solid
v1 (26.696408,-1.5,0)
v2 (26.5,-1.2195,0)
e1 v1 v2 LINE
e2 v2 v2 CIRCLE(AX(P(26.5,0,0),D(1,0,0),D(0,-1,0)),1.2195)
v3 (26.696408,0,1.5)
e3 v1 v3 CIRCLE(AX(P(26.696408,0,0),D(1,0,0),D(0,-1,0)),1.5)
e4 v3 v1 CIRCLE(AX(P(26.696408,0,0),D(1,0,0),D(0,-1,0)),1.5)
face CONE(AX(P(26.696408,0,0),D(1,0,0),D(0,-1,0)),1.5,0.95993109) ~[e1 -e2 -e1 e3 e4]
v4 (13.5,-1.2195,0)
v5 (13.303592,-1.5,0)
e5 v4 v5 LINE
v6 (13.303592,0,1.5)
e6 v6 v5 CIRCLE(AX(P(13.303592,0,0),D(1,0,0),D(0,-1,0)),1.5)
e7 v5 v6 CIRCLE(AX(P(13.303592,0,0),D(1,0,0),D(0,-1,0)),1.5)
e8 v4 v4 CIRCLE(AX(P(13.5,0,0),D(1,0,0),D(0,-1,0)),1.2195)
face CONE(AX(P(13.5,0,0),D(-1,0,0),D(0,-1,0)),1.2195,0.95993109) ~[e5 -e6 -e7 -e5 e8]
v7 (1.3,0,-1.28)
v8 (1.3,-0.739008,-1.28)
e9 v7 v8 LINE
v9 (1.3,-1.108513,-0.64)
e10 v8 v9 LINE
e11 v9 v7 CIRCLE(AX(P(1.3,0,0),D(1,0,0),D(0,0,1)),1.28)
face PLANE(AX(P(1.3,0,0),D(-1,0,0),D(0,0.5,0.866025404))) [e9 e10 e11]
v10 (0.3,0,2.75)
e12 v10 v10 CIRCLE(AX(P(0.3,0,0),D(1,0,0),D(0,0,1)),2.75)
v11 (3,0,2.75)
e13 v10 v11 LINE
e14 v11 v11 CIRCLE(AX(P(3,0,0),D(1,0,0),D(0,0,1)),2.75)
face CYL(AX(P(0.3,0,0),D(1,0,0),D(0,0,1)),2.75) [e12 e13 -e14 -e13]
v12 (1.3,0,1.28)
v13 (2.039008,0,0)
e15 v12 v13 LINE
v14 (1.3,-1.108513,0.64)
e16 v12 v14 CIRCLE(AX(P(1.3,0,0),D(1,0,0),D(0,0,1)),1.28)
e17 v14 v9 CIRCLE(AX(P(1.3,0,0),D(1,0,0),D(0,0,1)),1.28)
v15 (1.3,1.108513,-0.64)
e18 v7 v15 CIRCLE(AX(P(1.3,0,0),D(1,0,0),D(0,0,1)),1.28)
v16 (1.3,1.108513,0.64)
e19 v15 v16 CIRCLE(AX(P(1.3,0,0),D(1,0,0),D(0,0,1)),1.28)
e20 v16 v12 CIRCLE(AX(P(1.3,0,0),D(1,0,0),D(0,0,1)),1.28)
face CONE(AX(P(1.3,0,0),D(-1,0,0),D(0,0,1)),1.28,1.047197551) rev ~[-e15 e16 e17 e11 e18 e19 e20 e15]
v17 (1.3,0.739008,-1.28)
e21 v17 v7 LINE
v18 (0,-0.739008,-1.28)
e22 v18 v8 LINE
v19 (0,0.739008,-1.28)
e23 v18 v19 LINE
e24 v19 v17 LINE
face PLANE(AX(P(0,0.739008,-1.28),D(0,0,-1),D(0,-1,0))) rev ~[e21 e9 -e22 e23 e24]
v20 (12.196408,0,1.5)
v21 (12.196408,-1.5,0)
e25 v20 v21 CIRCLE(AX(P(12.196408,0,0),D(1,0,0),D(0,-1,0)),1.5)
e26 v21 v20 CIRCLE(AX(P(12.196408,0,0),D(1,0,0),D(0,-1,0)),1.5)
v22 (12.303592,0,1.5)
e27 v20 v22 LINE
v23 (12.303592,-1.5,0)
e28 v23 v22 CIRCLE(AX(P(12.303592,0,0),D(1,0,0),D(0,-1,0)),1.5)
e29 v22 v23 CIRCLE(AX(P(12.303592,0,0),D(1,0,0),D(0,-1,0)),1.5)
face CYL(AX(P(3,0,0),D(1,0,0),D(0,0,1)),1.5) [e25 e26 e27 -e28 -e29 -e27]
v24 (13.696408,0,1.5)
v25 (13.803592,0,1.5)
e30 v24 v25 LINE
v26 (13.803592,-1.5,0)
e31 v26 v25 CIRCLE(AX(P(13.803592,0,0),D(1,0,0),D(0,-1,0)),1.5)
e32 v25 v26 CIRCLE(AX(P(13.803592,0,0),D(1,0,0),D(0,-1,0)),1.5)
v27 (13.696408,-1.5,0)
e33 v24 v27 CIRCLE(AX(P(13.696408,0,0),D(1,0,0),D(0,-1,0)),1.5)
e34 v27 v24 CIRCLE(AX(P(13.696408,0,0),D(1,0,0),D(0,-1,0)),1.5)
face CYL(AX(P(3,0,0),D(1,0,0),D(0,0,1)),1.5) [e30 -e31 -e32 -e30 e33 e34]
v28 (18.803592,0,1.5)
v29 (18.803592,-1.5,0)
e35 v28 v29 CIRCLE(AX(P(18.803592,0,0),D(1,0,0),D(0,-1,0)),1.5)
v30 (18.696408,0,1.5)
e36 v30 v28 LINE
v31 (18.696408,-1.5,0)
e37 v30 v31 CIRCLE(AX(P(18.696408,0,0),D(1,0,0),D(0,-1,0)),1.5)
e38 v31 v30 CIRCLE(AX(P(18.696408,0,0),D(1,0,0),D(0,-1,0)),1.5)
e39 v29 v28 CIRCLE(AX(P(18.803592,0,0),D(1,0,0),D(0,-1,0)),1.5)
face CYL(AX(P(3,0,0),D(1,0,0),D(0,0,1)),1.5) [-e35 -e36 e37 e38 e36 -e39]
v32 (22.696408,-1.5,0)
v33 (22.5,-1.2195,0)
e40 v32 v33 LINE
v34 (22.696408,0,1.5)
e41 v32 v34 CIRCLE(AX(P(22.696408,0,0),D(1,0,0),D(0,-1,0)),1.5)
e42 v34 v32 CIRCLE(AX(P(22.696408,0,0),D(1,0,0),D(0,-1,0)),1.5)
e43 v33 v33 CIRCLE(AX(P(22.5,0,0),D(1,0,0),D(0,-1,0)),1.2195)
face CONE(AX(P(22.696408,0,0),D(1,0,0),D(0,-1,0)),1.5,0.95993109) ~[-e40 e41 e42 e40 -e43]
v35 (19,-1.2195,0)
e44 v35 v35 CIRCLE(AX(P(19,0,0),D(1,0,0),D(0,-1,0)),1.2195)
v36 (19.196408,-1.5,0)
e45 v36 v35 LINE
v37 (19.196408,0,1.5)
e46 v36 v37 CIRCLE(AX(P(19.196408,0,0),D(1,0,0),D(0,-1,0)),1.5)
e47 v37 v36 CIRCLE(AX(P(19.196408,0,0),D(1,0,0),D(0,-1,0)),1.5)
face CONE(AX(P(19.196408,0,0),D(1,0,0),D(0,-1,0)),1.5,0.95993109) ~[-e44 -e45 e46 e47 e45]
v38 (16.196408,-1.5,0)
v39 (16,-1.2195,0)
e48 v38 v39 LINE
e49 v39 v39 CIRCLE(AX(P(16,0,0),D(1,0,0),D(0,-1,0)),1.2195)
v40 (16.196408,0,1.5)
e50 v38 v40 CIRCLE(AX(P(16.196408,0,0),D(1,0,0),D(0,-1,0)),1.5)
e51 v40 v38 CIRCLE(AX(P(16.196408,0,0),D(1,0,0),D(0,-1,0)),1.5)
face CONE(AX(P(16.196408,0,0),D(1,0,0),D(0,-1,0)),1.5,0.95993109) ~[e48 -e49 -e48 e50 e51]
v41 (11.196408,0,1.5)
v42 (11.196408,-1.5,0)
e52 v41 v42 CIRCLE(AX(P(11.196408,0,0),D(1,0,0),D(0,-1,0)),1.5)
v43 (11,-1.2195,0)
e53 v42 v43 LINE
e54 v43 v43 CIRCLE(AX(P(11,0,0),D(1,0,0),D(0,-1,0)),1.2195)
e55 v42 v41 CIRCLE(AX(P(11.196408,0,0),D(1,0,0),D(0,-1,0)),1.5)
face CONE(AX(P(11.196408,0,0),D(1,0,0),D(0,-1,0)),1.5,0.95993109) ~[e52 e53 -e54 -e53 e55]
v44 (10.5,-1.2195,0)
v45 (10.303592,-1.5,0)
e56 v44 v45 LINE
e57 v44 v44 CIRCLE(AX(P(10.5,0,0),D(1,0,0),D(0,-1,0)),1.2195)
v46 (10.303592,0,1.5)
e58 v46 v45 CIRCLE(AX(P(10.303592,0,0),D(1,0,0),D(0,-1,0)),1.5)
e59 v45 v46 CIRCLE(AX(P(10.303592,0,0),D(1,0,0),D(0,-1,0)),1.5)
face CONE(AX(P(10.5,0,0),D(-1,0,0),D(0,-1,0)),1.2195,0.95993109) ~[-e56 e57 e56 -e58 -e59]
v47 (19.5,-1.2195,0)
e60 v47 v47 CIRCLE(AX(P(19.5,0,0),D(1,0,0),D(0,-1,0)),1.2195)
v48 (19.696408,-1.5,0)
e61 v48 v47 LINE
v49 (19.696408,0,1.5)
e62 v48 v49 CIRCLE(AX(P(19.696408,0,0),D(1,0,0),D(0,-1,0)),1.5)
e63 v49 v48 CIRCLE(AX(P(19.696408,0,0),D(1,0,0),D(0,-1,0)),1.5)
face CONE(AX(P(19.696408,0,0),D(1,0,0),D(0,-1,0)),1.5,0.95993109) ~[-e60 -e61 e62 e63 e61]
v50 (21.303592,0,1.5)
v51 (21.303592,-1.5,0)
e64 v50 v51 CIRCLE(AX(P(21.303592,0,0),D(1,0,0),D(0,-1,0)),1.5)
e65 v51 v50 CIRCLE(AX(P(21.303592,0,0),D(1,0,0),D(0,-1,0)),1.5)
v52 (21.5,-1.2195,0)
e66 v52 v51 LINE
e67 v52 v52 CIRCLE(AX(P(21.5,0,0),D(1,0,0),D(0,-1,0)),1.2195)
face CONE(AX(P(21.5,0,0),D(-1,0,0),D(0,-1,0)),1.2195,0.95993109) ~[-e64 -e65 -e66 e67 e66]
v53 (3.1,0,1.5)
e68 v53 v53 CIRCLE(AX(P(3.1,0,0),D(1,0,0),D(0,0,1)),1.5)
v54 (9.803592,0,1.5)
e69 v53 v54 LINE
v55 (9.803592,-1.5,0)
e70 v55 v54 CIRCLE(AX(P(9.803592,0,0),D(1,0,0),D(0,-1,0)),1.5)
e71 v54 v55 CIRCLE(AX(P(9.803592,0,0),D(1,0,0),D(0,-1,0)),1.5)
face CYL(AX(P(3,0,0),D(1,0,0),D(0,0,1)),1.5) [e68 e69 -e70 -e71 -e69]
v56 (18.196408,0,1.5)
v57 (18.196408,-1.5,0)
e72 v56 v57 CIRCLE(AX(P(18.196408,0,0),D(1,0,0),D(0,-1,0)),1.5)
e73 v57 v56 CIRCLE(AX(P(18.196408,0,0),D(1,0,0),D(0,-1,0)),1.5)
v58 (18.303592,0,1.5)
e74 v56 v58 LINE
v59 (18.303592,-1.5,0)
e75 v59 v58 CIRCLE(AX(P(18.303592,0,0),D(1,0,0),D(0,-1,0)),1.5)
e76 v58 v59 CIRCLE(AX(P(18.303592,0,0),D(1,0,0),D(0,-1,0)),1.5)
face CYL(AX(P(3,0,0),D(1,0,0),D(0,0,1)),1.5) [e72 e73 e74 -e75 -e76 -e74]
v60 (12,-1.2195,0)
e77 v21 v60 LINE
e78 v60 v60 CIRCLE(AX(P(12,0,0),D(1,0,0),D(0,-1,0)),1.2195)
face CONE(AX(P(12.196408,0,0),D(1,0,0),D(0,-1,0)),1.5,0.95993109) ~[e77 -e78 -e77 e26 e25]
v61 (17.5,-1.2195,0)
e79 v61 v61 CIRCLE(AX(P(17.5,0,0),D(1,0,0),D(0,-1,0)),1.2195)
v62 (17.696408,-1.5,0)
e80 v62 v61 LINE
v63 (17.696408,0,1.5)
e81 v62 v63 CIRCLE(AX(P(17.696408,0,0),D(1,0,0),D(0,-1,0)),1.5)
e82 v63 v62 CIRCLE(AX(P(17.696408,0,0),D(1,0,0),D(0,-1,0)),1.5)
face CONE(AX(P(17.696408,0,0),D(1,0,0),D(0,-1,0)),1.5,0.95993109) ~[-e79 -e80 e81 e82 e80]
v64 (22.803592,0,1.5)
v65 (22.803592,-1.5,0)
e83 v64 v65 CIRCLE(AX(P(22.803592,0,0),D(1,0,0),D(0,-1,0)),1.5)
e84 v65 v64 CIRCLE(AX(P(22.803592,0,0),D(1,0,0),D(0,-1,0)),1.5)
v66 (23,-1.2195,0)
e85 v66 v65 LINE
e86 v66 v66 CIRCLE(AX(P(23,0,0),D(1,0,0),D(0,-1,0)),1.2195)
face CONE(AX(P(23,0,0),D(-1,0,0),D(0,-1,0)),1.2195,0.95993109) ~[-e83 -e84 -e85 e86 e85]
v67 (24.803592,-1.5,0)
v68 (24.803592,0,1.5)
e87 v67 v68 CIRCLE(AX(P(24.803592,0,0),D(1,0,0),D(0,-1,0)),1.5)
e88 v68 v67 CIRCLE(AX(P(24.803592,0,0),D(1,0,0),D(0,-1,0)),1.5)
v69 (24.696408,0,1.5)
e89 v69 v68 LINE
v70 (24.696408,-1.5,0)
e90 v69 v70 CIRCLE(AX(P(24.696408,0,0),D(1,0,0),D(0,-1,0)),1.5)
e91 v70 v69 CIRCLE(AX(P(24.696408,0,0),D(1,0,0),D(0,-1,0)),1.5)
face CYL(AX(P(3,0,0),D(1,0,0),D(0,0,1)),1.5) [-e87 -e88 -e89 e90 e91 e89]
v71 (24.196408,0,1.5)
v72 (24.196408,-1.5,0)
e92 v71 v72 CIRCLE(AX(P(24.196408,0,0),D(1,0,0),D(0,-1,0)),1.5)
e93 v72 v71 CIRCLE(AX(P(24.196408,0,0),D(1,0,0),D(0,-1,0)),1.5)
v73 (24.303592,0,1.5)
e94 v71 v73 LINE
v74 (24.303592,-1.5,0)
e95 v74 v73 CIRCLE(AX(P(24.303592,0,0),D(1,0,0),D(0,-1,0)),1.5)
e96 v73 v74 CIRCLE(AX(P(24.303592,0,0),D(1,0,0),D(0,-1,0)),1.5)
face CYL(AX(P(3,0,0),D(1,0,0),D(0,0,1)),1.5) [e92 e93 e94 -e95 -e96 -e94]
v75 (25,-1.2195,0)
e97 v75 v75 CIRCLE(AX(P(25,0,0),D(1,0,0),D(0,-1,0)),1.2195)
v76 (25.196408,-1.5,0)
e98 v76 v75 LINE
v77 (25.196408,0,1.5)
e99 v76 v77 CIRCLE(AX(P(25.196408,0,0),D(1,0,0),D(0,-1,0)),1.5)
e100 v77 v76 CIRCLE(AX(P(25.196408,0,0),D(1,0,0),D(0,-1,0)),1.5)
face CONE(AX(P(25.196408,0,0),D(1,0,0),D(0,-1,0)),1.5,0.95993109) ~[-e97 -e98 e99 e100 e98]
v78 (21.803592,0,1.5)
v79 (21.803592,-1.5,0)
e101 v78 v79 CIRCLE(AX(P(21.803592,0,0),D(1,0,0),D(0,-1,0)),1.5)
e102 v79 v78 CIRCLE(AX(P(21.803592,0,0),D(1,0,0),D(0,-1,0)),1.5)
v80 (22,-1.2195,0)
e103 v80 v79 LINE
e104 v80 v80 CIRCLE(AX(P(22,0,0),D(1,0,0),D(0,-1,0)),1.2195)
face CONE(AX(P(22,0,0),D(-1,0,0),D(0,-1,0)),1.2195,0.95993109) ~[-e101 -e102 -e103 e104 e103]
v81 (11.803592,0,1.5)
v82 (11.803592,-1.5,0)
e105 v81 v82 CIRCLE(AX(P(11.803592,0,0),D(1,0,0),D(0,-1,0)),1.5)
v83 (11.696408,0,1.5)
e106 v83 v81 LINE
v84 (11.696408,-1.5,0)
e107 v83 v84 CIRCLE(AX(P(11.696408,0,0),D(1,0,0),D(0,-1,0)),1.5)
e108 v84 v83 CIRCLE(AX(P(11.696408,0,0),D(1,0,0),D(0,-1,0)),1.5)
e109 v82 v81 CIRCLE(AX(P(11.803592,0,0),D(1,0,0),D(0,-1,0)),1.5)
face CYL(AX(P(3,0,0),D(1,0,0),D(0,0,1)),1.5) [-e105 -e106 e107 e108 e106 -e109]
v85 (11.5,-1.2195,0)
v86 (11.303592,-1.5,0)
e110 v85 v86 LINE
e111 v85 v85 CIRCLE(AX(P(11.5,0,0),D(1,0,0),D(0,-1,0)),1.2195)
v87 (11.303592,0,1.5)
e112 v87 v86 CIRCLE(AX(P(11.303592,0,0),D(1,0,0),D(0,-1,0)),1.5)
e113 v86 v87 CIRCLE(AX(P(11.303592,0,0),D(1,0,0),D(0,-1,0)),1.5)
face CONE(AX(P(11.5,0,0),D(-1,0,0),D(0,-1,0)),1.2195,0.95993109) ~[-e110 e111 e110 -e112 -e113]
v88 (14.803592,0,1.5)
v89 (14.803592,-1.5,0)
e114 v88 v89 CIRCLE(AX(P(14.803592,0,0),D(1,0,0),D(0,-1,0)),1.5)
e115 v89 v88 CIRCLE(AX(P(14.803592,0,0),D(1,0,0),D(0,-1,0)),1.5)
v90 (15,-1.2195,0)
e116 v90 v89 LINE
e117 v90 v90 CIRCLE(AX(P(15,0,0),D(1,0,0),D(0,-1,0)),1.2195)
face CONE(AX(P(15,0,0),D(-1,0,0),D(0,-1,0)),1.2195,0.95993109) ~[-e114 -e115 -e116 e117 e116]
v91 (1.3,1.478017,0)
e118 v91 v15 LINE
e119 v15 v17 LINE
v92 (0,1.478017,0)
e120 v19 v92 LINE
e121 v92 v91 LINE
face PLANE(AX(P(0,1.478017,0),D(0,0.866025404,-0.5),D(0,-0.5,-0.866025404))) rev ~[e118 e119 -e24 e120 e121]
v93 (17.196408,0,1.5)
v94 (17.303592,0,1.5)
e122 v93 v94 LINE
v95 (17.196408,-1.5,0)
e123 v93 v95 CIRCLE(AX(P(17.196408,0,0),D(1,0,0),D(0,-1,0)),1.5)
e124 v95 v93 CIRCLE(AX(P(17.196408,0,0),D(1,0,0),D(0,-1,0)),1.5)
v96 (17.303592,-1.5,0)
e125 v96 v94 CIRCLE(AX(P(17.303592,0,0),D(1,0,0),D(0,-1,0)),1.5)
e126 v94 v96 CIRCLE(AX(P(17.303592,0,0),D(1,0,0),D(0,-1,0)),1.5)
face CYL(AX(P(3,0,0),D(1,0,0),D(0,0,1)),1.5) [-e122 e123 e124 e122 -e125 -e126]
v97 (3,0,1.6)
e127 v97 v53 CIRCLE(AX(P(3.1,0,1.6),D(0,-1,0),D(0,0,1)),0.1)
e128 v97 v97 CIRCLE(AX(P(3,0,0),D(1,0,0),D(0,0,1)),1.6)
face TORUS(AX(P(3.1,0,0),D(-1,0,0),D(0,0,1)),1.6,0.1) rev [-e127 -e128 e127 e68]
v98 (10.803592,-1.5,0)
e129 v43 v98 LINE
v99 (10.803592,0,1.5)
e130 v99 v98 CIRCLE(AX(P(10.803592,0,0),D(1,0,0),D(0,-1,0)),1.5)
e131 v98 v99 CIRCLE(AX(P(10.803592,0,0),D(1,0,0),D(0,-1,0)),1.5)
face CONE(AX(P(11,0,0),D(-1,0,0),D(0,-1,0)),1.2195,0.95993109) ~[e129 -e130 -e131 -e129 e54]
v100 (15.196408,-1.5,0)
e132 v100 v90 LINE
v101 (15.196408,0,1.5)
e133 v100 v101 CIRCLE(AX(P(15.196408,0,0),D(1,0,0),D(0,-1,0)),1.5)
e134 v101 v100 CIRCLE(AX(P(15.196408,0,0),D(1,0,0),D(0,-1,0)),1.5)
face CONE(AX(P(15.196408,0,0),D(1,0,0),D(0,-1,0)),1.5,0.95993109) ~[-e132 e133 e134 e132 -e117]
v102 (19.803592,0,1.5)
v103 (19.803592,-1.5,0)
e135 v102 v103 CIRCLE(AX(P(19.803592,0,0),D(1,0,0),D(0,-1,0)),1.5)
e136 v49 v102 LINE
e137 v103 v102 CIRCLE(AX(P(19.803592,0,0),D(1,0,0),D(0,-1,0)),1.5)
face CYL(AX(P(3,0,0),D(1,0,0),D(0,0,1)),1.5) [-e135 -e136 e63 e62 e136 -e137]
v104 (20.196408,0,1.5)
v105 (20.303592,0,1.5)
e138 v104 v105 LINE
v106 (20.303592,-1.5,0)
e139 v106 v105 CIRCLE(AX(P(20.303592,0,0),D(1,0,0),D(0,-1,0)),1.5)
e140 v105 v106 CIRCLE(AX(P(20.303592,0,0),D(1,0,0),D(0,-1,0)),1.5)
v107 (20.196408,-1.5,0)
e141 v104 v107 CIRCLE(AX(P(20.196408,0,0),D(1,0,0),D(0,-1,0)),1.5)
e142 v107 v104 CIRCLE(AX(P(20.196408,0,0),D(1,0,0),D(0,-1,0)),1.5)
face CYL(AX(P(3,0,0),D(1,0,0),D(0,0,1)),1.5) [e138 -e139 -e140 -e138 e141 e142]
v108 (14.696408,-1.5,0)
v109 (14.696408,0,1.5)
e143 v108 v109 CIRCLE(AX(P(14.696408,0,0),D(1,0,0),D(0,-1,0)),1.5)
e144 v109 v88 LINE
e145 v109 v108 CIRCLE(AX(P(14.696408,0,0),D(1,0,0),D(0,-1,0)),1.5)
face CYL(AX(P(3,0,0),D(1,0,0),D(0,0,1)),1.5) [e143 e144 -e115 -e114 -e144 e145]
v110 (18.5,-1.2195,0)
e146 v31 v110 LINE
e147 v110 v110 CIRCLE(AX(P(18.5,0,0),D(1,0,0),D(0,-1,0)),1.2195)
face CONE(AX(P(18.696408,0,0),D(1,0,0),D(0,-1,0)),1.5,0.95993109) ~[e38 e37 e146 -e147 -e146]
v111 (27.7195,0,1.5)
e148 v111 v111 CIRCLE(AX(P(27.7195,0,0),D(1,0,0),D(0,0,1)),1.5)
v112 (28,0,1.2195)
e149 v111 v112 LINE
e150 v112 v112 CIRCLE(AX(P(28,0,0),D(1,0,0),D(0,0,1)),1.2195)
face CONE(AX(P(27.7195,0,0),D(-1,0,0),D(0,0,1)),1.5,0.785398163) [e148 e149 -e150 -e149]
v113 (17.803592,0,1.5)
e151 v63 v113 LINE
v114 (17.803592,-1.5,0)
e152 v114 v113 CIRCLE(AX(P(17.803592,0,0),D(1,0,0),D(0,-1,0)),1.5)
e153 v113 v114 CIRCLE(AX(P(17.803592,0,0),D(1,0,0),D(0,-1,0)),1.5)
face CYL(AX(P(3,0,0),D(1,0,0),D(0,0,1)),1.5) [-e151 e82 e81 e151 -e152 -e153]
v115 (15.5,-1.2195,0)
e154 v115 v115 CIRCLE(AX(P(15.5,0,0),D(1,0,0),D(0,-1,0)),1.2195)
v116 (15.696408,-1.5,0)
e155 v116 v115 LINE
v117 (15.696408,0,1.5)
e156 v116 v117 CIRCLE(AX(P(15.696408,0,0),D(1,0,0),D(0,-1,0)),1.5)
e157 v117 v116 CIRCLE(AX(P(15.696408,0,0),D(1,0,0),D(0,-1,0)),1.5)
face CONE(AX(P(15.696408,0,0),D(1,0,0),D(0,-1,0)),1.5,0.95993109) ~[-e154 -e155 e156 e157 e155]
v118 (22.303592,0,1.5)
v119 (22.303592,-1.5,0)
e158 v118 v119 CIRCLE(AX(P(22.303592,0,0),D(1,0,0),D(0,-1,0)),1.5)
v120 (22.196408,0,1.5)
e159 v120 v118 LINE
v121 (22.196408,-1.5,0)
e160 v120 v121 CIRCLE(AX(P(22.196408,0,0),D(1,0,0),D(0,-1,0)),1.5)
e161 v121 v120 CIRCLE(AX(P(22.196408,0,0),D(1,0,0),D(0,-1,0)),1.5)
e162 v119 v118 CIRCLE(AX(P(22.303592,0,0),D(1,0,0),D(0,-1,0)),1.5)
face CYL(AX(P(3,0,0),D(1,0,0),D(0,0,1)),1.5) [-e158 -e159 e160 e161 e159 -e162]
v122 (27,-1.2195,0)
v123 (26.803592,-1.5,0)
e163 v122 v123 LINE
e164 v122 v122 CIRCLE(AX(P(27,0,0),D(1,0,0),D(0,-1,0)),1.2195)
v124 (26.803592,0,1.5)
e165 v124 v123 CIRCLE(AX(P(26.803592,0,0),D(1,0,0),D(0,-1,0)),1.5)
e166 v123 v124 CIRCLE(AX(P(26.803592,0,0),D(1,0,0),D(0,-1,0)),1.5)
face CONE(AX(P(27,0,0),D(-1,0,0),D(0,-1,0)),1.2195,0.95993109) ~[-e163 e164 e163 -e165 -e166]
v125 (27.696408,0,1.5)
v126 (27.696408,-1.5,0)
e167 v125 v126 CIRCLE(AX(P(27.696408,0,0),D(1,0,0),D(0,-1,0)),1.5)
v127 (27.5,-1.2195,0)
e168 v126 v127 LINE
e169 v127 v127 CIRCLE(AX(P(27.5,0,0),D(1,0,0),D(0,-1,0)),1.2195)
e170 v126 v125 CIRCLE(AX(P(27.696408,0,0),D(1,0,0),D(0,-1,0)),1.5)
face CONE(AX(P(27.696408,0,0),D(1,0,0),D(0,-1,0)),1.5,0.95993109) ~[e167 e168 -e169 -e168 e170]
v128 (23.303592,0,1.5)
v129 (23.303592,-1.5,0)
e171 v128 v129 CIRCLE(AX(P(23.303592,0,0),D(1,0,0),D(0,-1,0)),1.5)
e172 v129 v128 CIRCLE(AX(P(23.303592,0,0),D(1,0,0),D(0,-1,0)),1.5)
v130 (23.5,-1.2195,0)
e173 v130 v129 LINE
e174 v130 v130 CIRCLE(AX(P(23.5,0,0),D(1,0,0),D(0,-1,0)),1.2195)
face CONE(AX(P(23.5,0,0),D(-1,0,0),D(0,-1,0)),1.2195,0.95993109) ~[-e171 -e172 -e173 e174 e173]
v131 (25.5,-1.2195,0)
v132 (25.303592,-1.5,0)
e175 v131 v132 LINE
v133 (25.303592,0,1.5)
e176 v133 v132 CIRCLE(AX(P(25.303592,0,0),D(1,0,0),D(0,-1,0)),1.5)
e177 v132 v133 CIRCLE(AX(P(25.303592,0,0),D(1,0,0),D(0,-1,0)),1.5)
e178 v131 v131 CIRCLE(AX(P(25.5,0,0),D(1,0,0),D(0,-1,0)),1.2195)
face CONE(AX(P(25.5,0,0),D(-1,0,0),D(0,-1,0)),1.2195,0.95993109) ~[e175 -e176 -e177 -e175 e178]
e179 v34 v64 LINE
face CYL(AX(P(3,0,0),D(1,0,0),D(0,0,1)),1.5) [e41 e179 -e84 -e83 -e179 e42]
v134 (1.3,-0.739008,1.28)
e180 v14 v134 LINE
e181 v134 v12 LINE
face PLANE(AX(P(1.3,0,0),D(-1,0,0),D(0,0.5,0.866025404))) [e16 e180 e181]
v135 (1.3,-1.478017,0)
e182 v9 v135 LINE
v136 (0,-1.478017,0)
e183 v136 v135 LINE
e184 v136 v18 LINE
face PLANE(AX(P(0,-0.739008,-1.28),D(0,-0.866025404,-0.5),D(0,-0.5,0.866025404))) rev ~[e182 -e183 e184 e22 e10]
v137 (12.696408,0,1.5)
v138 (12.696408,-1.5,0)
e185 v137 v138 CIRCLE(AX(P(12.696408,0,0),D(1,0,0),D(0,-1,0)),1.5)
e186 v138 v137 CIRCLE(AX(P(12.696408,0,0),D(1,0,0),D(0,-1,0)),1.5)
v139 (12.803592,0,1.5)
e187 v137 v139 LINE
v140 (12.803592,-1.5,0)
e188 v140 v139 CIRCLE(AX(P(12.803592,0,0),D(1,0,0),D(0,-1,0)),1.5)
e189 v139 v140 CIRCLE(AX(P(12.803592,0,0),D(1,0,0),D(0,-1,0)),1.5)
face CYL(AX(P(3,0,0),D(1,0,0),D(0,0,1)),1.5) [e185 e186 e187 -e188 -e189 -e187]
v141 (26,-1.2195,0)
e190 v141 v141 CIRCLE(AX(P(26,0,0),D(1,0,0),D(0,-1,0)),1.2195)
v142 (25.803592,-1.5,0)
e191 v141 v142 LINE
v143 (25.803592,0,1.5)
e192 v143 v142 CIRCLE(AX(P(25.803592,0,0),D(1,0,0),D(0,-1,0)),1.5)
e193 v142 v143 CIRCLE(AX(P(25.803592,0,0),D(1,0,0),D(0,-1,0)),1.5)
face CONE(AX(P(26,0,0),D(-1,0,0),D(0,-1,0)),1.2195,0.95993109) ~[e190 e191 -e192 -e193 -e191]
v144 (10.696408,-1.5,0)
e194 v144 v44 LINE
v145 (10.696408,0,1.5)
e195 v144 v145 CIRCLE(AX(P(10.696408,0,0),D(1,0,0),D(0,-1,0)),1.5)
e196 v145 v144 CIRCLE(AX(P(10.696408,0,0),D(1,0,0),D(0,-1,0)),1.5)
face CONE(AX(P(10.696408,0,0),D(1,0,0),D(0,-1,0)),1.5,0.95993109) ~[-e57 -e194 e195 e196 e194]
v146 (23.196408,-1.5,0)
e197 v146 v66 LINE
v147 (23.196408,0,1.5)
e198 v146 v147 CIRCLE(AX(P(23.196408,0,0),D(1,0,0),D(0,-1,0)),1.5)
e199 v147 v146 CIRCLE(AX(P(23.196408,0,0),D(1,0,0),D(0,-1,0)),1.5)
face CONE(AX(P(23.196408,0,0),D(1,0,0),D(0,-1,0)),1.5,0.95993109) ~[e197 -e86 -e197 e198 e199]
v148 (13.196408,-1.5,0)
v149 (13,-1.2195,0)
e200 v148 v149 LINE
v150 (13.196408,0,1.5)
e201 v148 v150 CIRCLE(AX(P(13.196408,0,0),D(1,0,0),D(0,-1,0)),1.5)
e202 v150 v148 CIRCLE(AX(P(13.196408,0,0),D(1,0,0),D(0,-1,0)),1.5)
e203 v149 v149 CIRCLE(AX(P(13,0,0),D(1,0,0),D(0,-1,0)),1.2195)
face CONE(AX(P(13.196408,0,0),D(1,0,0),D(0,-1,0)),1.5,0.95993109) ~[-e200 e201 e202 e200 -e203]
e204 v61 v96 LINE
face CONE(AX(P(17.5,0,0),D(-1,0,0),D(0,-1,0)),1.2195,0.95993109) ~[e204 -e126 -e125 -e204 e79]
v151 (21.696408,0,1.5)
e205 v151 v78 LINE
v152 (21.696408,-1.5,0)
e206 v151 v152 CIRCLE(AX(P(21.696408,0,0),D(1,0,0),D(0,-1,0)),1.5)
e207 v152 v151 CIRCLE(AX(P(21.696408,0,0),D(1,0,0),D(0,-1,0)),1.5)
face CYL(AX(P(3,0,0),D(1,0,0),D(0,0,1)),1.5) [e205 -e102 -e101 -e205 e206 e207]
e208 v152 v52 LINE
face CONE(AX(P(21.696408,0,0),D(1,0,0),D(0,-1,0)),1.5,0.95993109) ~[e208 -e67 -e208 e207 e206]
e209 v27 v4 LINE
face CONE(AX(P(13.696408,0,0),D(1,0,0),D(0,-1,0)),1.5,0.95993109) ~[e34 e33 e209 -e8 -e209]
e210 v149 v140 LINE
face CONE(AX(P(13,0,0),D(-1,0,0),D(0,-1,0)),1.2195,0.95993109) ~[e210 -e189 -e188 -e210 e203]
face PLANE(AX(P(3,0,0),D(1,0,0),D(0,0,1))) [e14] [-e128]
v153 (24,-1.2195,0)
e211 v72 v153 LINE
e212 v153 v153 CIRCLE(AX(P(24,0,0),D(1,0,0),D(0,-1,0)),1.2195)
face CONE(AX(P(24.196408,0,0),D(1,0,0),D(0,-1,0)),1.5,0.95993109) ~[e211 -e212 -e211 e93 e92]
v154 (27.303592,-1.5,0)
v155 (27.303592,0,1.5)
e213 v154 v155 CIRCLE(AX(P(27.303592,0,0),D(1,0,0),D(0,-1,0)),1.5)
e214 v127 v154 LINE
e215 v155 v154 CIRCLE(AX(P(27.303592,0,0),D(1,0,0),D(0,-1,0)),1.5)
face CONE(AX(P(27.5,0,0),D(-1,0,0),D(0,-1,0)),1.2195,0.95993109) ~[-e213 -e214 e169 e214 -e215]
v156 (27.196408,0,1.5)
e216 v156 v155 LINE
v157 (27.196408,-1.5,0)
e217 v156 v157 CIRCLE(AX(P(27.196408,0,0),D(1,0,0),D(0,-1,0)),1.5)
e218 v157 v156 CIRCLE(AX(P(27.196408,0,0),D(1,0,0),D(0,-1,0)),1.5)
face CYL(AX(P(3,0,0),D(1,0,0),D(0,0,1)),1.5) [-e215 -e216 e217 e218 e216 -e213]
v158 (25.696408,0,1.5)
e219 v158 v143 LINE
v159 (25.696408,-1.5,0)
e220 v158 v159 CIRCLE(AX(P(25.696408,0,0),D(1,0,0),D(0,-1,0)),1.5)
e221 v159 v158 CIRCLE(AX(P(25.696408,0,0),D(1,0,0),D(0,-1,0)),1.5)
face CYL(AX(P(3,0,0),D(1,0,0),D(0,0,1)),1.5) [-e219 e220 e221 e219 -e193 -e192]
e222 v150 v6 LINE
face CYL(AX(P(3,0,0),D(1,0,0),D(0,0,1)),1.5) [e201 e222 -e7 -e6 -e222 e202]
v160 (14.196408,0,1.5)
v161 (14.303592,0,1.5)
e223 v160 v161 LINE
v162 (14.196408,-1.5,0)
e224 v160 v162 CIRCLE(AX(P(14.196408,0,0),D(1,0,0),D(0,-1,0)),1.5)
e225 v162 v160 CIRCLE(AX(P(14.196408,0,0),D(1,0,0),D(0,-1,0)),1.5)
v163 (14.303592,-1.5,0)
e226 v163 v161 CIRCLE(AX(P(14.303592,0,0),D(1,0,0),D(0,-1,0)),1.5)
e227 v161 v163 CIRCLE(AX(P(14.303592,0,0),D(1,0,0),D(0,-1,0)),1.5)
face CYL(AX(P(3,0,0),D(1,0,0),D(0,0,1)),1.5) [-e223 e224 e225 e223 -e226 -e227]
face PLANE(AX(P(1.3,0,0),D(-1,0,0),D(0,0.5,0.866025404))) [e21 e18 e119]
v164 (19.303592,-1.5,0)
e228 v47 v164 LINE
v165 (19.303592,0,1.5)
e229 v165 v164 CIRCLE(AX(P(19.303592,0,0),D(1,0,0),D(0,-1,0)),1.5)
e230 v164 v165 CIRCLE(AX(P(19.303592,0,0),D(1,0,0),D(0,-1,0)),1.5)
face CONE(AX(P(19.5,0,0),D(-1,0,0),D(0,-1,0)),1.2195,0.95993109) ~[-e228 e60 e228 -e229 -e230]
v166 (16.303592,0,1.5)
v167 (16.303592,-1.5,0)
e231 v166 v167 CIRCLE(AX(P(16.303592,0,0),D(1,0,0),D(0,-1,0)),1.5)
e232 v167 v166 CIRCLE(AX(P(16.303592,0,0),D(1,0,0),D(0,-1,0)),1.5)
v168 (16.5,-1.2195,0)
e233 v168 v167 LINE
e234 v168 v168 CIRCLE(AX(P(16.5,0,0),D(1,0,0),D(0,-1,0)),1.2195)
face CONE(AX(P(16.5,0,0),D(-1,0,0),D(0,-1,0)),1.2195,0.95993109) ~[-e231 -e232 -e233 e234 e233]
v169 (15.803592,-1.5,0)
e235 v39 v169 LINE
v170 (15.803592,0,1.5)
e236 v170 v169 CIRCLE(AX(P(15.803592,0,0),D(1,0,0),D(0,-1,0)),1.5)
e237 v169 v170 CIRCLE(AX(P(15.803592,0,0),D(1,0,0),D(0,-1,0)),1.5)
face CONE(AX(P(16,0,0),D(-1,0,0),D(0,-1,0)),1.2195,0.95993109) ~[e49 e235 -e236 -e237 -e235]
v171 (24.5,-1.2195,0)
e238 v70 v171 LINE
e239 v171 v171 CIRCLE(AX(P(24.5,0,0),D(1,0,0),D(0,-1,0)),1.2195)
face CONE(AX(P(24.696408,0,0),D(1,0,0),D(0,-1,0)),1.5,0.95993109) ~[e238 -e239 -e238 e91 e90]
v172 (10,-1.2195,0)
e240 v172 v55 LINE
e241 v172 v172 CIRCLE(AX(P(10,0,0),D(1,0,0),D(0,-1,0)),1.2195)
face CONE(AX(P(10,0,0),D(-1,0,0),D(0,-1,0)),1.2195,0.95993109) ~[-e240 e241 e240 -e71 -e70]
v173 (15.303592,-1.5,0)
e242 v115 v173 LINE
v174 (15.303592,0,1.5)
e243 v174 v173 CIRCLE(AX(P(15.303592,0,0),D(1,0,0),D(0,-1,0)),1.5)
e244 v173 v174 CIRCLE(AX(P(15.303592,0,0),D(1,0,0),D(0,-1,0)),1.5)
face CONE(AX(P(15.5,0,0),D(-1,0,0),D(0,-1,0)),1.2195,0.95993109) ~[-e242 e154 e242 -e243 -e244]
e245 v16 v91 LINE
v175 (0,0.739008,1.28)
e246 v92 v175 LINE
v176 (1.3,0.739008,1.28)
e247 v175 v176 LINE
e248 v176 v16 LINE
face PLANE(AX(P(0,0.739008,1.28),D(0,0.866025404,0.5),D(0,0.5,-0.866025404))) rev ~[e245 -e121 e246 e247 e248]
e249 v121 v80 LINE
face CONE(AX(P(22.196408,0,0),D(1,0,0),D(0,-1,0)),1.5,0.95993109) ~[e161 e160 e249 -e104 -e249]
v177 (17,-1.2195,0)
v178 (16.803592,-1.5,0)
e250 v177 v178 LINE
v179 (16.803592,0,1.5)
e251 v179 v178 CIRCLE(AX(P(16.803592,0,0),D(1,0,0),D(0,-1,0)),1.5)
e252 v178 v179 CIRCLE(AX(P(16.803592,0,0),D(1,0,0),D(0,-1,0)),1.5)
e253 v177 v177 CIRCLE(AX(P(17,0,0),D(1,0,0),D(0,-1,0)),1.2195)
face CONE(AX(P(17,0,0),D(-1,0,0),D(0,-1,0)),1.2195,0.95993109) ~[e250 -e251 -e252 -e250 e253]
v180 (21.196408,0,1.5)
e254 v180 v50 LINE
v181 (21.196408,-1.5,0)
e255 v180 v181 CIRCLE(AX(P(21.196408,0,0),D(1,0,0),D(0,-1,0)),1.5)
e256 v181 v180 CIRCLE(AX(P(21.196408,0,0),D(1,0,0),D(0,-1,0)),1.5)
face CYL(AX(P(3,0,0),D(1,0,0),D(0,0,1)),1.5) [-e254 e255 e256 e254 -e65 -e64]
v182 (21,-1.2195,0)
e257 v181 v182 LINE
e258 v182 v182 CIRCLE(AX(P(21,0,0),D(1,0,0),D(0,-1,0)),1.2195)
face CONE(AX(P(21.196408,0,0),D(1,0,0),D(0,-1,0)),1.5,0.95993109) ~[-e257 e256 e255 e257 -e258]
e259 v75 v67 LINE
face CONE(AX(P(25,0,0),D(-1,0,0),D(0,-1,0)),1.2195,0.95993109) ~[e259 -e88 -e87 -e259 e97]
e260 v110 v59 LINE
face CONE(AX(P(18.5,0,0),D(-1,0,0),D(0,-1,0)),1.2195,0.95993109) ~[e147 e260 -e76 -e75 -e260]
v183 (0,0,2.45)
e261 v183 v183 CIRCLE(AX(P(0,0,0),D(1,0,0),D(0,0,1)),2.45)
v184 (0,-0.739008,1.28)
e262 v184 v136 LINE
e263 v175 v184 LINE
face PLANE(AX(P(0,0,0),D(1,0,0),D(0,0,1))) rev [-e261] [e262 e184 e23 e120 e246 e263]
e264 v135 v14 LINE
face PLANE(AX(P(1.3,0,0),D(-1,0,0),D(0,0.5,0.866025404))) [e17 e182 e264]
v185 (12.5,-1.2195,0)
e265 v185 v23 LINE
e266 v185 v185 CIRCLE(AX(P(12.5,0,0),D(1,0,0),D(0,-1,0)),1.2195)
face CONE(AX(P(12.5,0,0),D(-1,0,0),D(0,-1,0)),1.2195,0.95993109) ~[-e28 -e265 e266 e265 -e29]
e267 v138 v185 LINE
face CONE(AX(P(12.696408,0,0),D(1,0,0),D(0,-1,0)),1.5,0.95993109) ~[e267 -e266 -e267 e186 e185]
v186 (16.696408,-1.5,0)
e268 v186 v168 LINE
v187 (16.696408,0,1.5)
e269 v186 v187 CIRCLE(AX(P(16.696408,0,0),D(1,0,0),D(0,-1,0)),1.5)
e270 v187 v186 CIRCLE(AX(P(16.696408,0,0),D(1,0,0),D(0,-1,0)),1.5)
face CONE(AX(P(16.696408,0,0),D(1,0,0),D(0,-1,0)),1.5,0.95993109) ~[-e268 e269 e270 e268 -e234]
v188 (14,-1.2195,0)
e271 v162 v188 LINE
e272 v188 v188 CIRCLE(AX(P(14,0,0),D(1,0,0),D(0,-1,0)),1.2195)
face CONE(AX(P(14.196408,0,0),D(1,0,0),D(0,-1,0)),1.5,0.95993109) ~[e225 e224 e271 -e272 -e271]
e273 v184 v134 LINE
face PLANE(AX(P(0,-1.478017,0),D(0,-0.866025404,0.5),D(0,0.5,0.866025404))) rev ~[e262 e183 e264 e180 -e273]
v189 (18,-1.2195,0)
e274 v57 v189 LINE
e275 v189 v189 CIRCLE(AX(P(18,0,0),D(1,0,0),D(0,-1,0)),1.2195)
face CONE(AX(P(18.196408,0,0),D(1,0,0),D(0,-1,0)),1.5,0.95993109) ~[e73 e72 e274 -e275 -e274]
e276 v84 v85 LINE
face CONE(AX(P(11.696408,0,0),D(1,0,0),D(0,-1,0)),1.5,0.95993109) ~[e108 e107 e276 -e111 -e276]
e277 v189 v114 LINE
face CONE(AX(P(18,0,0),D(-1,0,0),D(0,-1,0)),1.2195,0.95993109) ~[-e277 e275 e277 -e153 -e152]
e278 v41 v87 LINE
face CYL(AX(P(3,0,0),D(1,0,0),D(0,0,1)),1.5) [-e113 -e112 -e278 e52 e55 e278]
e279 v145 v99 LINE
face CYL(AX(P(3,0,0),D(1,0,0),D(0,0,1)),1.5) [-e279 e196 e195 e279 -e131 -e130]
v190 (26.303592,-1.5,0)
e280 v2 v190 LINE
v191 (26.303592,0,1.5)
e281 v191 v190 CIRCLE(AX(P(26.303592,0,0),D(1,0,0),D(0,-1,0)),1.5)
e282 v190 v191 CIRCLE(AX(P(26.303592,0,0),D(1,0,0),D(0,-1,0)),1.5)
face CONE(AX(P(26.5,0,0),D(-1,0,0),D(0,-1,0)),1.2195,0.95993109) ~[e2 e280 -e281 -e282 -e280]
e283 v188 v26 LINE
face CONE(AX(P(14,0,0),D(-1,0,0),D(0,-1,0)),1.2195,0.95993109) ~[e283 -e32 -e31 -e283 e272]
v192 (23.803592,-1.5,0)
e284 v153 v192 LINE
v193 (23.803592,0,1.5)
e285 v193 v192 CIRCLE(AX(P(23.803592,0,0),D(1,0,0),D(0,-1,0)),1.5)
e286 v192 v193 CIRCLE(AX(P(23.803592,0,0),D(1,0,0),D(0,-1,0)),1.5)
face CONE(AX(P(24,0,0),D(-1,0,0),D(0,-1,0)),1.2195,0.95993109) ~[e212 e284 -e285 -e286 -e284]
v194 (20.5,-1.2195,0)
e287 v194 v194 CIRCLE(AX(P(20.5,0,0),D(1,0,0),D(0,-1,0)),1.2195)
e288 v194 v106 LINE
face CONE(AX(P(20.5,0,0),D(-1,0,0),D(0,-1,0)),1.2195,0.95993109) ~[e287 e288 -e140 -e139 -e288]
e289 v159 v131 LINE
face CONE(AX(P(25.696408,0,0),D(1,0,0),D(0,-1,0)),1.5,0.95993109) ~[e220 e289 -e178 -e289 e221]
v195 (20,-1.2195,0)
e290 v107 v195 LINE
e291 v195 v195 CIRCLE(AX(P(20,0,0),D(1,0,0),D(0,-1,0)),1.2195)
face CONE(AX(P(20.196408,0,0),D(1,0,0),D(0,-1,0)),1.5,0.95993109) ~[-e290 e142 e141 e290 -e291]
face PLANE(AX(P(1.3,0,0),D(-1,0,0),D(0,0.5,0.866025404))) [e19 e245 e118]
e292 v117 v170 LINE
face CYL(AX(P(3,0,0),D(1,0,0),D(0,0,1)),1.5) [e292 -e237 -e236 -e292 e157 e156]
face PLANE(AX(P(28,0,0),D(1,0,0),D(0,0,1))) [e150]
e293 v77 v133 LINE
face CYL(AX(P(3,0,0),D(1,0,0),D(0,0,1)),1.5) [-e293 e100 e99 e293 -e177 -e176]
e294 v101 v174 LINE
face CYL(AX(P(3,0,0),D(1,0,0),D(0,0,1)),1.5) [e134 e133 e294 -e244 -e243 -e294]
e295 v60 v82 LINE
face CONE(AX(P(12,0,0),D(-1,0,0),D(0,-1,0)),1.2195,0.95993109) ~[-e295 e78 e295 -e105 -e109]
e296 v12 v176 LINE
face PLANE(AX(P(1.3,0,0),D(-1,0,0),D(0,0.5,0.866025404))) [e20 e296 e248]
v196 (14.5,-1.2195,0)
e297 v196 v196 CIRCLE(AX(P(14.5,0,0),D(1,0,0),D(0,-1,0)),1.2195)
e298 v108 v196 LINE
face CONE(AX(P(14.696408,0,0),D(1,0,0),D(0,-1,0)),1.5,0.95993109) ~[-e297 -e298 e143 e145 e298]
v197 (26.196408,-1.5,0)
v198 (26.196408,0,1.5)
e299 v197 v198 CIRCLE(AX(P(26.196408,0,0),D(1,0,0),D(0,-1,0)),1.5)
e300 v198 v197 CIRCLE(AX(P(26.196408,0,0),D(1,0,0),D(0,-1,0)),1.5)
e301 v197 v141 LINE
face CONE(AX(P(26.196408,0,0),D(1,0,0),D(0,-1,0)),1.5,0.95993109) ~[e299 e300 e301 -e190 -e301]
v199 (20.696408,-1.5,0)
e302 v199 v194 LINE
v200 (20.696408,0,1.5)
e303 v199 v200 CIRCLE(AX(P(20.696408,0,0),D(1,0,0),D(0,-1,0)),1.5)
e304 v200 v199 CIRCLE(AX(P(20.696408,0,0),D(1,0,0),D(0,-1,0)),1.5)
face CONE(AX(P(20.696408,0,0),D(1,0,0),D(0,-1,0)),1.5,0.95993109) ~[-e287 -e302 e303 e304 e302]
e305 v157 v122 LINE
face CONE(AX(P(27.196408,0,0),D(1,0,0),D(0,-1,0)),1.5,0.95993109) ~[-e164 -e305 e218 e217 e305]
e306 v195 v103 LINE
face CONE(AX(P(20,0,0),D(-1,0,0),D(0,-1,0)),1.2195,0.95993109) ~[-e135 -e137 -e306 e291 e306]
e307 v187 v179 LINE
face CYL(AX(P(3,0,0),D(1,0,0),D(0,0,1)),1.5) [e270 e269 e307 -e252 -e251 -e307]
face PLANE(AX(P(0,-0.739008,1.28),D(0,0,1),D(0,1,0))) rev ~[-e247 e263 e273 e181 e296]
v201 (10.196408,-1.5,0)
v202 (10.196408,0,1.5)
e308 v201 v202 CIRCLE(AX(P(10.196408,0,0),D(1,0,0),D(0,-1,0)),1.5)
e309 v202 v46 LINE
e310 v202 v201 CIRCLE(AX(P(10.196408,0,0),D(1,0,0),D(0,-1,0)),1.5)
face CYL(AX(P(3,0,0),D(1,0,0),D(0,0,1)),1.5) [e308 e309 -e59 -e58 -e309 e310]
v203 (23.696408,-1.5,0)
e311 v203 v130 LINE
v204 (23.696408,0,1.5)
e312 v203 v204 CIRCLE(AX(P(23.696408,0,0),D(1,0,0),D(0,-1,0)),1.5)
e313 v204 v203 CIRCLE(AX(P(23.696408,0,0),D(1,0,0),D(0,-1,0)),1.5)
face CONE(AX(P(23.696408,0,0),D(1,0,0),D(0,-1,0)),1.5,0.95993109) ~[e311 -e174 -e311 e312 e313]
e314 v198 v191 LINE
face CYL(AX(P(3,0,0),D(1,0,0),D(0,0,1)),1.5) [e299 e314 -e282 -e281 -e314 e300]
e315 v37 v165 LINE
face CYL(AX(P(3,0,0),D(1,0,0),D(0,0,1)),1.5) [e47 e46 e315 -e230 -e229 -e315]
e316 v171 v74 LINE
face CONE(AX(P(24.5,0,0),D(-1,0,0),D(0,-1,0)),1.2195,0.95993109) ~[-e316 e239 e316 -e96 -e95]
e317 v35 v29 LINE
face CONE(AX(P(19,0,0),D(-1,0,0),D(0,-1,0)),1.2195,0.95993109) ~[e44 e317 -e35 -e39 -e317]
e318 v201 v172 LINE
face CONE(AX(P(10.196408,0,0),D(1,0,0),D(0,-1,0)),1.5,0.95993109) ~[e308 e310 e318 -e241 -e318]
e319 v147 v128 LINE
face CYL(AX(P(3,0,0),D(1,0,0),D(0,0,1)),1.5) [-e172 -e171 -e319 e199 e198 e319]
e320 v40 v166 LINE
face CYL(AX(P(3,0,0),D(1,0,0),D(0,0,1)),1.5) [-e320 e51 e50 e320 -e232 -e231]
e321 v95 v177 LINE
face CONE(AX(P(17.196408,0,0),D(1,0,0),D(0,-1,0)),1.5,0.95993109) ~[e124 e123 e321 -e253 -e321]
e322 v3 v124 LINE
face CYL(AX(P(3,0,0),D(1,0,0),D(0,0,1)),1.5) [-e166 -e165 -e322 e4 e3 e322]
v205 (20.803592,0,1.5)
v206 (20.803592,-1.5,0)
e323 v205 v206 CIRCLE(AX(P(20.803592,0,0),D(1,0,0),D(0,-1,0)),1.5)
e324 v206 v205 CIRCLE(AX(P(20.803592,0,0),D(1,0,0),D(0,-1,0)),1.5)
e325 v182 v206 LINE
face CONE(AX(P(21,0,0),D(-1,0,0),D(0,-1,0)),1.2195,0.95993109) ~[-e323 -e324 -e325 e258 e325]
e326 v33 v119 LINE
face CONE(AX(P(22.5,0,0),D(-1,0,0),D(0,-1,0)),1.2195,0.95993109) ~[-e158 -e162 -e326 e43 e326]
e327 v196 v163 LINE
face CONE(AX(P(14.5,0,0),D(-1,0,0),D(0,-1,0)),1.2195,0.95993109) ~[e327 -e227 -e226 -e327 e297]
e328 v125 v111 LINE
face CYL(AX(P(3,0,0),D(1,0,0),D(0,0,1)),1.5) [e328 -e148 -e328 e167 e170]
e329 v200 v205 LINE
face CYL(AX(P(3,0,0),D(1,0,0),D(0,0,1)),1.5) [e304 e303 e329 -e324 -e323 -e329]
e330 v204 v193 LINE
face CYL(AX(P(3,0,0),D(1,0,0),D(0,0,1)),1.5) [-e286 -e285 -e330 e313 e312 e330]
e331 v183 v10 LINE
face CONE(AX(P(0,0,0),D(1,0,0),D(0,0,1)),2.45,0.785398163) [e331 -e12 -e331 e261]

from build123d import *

# Parameters (mm, degrees)
FILLET1_R       = 0.1
HEX_2_DEPTH     = 1.3
THDSCHPAT_COUNT = 36
THDSCHPAT_PITCH = 0.5


with BuildPart() as part:
    # BodySke → Base-Revolve (revolve)
    with BuildSketch(Plane.XY, mode=Mode.PRIVATE) as base_revolve_sk:
        Polygon((0, 0), (0, 2.45), (0.3, 2.75), (3, 2.75), (3, 1.5), (27.7195, 1.5), (28, 1.2195), (28, 0), align=None)
    revolve(base_revolve_sk.sketch.rotate(Axis((-31.75, 0, 0), (1, 0, 0)), 90), axis=Axis((-31.75, 0, 0), (1, 0, 0)))

    # Fillet1
    fillet1_edges = [part.edges().sort_by_distance(p)[0] for p in [
        (3, 0, -1.5),
    ]]
    fillet(fillet1_edges, radius=FILLET1_R)

    # Sketch2 → Hex-PreBroach (revolve, cut)
    with BuildSketch(Plane.XY, mode=Mode.PRIVATE) as hex_prebroach_sk:
        Polygon((0, 1.28), (1.3, 1.28), (2.039008345, 0), (0, 0), align=None)
    revolve(hex_prebroach_sk.sketch.rotate(Axis((0, 0, 0), (1, 0, 0)), 90), axis=Axis((0, 0, 0), (1, 0, 0)), mode=Mode.SUBTRACT)

    # Sketch3 → Hex 2 (cut)
    with BuildSketch(Plane(origin=(0, 0, 0), x_dir=(0, 0.500000000000001, 0.866025403784438), z_dir=(-1, 0, 0))):
        Polygon((0.739008345, 1.28), (-0.739008345, 1.28), (-1.478016689, 0), (-0.739008345, -1.28), (0.739008345, -1.28), (1.478016689, 0), align=None)
    extrude(amount=-HEX_2_DEPTH, mode=Mode.SUBTRACT)

    # ThdSchSke → ThreadSchematic (revolve, cut)
    with BuildSketch(Plane.XY):
        Polygon((10, -1.2195), (9.803591786, -1.5), (9.803591786, -1.875), (10.196408214, -1.875), (10.196408214, -1.5), align=None)
    threadschematic = revolve(axis=Axis((-3.175, 0, 0), (1, 0, 0)), mode=Mode.SUBTRACT)

    # ThdSchPat: ThreadSchematic ×36
    with Locations(*[(i * THDSCHPAT_PITCH, 0, 0) for i in range(1, THDSCHPAT_COUNT)]):
        add(threadschematic, mode=Mode.SUBTRACT)


solid = part.part
